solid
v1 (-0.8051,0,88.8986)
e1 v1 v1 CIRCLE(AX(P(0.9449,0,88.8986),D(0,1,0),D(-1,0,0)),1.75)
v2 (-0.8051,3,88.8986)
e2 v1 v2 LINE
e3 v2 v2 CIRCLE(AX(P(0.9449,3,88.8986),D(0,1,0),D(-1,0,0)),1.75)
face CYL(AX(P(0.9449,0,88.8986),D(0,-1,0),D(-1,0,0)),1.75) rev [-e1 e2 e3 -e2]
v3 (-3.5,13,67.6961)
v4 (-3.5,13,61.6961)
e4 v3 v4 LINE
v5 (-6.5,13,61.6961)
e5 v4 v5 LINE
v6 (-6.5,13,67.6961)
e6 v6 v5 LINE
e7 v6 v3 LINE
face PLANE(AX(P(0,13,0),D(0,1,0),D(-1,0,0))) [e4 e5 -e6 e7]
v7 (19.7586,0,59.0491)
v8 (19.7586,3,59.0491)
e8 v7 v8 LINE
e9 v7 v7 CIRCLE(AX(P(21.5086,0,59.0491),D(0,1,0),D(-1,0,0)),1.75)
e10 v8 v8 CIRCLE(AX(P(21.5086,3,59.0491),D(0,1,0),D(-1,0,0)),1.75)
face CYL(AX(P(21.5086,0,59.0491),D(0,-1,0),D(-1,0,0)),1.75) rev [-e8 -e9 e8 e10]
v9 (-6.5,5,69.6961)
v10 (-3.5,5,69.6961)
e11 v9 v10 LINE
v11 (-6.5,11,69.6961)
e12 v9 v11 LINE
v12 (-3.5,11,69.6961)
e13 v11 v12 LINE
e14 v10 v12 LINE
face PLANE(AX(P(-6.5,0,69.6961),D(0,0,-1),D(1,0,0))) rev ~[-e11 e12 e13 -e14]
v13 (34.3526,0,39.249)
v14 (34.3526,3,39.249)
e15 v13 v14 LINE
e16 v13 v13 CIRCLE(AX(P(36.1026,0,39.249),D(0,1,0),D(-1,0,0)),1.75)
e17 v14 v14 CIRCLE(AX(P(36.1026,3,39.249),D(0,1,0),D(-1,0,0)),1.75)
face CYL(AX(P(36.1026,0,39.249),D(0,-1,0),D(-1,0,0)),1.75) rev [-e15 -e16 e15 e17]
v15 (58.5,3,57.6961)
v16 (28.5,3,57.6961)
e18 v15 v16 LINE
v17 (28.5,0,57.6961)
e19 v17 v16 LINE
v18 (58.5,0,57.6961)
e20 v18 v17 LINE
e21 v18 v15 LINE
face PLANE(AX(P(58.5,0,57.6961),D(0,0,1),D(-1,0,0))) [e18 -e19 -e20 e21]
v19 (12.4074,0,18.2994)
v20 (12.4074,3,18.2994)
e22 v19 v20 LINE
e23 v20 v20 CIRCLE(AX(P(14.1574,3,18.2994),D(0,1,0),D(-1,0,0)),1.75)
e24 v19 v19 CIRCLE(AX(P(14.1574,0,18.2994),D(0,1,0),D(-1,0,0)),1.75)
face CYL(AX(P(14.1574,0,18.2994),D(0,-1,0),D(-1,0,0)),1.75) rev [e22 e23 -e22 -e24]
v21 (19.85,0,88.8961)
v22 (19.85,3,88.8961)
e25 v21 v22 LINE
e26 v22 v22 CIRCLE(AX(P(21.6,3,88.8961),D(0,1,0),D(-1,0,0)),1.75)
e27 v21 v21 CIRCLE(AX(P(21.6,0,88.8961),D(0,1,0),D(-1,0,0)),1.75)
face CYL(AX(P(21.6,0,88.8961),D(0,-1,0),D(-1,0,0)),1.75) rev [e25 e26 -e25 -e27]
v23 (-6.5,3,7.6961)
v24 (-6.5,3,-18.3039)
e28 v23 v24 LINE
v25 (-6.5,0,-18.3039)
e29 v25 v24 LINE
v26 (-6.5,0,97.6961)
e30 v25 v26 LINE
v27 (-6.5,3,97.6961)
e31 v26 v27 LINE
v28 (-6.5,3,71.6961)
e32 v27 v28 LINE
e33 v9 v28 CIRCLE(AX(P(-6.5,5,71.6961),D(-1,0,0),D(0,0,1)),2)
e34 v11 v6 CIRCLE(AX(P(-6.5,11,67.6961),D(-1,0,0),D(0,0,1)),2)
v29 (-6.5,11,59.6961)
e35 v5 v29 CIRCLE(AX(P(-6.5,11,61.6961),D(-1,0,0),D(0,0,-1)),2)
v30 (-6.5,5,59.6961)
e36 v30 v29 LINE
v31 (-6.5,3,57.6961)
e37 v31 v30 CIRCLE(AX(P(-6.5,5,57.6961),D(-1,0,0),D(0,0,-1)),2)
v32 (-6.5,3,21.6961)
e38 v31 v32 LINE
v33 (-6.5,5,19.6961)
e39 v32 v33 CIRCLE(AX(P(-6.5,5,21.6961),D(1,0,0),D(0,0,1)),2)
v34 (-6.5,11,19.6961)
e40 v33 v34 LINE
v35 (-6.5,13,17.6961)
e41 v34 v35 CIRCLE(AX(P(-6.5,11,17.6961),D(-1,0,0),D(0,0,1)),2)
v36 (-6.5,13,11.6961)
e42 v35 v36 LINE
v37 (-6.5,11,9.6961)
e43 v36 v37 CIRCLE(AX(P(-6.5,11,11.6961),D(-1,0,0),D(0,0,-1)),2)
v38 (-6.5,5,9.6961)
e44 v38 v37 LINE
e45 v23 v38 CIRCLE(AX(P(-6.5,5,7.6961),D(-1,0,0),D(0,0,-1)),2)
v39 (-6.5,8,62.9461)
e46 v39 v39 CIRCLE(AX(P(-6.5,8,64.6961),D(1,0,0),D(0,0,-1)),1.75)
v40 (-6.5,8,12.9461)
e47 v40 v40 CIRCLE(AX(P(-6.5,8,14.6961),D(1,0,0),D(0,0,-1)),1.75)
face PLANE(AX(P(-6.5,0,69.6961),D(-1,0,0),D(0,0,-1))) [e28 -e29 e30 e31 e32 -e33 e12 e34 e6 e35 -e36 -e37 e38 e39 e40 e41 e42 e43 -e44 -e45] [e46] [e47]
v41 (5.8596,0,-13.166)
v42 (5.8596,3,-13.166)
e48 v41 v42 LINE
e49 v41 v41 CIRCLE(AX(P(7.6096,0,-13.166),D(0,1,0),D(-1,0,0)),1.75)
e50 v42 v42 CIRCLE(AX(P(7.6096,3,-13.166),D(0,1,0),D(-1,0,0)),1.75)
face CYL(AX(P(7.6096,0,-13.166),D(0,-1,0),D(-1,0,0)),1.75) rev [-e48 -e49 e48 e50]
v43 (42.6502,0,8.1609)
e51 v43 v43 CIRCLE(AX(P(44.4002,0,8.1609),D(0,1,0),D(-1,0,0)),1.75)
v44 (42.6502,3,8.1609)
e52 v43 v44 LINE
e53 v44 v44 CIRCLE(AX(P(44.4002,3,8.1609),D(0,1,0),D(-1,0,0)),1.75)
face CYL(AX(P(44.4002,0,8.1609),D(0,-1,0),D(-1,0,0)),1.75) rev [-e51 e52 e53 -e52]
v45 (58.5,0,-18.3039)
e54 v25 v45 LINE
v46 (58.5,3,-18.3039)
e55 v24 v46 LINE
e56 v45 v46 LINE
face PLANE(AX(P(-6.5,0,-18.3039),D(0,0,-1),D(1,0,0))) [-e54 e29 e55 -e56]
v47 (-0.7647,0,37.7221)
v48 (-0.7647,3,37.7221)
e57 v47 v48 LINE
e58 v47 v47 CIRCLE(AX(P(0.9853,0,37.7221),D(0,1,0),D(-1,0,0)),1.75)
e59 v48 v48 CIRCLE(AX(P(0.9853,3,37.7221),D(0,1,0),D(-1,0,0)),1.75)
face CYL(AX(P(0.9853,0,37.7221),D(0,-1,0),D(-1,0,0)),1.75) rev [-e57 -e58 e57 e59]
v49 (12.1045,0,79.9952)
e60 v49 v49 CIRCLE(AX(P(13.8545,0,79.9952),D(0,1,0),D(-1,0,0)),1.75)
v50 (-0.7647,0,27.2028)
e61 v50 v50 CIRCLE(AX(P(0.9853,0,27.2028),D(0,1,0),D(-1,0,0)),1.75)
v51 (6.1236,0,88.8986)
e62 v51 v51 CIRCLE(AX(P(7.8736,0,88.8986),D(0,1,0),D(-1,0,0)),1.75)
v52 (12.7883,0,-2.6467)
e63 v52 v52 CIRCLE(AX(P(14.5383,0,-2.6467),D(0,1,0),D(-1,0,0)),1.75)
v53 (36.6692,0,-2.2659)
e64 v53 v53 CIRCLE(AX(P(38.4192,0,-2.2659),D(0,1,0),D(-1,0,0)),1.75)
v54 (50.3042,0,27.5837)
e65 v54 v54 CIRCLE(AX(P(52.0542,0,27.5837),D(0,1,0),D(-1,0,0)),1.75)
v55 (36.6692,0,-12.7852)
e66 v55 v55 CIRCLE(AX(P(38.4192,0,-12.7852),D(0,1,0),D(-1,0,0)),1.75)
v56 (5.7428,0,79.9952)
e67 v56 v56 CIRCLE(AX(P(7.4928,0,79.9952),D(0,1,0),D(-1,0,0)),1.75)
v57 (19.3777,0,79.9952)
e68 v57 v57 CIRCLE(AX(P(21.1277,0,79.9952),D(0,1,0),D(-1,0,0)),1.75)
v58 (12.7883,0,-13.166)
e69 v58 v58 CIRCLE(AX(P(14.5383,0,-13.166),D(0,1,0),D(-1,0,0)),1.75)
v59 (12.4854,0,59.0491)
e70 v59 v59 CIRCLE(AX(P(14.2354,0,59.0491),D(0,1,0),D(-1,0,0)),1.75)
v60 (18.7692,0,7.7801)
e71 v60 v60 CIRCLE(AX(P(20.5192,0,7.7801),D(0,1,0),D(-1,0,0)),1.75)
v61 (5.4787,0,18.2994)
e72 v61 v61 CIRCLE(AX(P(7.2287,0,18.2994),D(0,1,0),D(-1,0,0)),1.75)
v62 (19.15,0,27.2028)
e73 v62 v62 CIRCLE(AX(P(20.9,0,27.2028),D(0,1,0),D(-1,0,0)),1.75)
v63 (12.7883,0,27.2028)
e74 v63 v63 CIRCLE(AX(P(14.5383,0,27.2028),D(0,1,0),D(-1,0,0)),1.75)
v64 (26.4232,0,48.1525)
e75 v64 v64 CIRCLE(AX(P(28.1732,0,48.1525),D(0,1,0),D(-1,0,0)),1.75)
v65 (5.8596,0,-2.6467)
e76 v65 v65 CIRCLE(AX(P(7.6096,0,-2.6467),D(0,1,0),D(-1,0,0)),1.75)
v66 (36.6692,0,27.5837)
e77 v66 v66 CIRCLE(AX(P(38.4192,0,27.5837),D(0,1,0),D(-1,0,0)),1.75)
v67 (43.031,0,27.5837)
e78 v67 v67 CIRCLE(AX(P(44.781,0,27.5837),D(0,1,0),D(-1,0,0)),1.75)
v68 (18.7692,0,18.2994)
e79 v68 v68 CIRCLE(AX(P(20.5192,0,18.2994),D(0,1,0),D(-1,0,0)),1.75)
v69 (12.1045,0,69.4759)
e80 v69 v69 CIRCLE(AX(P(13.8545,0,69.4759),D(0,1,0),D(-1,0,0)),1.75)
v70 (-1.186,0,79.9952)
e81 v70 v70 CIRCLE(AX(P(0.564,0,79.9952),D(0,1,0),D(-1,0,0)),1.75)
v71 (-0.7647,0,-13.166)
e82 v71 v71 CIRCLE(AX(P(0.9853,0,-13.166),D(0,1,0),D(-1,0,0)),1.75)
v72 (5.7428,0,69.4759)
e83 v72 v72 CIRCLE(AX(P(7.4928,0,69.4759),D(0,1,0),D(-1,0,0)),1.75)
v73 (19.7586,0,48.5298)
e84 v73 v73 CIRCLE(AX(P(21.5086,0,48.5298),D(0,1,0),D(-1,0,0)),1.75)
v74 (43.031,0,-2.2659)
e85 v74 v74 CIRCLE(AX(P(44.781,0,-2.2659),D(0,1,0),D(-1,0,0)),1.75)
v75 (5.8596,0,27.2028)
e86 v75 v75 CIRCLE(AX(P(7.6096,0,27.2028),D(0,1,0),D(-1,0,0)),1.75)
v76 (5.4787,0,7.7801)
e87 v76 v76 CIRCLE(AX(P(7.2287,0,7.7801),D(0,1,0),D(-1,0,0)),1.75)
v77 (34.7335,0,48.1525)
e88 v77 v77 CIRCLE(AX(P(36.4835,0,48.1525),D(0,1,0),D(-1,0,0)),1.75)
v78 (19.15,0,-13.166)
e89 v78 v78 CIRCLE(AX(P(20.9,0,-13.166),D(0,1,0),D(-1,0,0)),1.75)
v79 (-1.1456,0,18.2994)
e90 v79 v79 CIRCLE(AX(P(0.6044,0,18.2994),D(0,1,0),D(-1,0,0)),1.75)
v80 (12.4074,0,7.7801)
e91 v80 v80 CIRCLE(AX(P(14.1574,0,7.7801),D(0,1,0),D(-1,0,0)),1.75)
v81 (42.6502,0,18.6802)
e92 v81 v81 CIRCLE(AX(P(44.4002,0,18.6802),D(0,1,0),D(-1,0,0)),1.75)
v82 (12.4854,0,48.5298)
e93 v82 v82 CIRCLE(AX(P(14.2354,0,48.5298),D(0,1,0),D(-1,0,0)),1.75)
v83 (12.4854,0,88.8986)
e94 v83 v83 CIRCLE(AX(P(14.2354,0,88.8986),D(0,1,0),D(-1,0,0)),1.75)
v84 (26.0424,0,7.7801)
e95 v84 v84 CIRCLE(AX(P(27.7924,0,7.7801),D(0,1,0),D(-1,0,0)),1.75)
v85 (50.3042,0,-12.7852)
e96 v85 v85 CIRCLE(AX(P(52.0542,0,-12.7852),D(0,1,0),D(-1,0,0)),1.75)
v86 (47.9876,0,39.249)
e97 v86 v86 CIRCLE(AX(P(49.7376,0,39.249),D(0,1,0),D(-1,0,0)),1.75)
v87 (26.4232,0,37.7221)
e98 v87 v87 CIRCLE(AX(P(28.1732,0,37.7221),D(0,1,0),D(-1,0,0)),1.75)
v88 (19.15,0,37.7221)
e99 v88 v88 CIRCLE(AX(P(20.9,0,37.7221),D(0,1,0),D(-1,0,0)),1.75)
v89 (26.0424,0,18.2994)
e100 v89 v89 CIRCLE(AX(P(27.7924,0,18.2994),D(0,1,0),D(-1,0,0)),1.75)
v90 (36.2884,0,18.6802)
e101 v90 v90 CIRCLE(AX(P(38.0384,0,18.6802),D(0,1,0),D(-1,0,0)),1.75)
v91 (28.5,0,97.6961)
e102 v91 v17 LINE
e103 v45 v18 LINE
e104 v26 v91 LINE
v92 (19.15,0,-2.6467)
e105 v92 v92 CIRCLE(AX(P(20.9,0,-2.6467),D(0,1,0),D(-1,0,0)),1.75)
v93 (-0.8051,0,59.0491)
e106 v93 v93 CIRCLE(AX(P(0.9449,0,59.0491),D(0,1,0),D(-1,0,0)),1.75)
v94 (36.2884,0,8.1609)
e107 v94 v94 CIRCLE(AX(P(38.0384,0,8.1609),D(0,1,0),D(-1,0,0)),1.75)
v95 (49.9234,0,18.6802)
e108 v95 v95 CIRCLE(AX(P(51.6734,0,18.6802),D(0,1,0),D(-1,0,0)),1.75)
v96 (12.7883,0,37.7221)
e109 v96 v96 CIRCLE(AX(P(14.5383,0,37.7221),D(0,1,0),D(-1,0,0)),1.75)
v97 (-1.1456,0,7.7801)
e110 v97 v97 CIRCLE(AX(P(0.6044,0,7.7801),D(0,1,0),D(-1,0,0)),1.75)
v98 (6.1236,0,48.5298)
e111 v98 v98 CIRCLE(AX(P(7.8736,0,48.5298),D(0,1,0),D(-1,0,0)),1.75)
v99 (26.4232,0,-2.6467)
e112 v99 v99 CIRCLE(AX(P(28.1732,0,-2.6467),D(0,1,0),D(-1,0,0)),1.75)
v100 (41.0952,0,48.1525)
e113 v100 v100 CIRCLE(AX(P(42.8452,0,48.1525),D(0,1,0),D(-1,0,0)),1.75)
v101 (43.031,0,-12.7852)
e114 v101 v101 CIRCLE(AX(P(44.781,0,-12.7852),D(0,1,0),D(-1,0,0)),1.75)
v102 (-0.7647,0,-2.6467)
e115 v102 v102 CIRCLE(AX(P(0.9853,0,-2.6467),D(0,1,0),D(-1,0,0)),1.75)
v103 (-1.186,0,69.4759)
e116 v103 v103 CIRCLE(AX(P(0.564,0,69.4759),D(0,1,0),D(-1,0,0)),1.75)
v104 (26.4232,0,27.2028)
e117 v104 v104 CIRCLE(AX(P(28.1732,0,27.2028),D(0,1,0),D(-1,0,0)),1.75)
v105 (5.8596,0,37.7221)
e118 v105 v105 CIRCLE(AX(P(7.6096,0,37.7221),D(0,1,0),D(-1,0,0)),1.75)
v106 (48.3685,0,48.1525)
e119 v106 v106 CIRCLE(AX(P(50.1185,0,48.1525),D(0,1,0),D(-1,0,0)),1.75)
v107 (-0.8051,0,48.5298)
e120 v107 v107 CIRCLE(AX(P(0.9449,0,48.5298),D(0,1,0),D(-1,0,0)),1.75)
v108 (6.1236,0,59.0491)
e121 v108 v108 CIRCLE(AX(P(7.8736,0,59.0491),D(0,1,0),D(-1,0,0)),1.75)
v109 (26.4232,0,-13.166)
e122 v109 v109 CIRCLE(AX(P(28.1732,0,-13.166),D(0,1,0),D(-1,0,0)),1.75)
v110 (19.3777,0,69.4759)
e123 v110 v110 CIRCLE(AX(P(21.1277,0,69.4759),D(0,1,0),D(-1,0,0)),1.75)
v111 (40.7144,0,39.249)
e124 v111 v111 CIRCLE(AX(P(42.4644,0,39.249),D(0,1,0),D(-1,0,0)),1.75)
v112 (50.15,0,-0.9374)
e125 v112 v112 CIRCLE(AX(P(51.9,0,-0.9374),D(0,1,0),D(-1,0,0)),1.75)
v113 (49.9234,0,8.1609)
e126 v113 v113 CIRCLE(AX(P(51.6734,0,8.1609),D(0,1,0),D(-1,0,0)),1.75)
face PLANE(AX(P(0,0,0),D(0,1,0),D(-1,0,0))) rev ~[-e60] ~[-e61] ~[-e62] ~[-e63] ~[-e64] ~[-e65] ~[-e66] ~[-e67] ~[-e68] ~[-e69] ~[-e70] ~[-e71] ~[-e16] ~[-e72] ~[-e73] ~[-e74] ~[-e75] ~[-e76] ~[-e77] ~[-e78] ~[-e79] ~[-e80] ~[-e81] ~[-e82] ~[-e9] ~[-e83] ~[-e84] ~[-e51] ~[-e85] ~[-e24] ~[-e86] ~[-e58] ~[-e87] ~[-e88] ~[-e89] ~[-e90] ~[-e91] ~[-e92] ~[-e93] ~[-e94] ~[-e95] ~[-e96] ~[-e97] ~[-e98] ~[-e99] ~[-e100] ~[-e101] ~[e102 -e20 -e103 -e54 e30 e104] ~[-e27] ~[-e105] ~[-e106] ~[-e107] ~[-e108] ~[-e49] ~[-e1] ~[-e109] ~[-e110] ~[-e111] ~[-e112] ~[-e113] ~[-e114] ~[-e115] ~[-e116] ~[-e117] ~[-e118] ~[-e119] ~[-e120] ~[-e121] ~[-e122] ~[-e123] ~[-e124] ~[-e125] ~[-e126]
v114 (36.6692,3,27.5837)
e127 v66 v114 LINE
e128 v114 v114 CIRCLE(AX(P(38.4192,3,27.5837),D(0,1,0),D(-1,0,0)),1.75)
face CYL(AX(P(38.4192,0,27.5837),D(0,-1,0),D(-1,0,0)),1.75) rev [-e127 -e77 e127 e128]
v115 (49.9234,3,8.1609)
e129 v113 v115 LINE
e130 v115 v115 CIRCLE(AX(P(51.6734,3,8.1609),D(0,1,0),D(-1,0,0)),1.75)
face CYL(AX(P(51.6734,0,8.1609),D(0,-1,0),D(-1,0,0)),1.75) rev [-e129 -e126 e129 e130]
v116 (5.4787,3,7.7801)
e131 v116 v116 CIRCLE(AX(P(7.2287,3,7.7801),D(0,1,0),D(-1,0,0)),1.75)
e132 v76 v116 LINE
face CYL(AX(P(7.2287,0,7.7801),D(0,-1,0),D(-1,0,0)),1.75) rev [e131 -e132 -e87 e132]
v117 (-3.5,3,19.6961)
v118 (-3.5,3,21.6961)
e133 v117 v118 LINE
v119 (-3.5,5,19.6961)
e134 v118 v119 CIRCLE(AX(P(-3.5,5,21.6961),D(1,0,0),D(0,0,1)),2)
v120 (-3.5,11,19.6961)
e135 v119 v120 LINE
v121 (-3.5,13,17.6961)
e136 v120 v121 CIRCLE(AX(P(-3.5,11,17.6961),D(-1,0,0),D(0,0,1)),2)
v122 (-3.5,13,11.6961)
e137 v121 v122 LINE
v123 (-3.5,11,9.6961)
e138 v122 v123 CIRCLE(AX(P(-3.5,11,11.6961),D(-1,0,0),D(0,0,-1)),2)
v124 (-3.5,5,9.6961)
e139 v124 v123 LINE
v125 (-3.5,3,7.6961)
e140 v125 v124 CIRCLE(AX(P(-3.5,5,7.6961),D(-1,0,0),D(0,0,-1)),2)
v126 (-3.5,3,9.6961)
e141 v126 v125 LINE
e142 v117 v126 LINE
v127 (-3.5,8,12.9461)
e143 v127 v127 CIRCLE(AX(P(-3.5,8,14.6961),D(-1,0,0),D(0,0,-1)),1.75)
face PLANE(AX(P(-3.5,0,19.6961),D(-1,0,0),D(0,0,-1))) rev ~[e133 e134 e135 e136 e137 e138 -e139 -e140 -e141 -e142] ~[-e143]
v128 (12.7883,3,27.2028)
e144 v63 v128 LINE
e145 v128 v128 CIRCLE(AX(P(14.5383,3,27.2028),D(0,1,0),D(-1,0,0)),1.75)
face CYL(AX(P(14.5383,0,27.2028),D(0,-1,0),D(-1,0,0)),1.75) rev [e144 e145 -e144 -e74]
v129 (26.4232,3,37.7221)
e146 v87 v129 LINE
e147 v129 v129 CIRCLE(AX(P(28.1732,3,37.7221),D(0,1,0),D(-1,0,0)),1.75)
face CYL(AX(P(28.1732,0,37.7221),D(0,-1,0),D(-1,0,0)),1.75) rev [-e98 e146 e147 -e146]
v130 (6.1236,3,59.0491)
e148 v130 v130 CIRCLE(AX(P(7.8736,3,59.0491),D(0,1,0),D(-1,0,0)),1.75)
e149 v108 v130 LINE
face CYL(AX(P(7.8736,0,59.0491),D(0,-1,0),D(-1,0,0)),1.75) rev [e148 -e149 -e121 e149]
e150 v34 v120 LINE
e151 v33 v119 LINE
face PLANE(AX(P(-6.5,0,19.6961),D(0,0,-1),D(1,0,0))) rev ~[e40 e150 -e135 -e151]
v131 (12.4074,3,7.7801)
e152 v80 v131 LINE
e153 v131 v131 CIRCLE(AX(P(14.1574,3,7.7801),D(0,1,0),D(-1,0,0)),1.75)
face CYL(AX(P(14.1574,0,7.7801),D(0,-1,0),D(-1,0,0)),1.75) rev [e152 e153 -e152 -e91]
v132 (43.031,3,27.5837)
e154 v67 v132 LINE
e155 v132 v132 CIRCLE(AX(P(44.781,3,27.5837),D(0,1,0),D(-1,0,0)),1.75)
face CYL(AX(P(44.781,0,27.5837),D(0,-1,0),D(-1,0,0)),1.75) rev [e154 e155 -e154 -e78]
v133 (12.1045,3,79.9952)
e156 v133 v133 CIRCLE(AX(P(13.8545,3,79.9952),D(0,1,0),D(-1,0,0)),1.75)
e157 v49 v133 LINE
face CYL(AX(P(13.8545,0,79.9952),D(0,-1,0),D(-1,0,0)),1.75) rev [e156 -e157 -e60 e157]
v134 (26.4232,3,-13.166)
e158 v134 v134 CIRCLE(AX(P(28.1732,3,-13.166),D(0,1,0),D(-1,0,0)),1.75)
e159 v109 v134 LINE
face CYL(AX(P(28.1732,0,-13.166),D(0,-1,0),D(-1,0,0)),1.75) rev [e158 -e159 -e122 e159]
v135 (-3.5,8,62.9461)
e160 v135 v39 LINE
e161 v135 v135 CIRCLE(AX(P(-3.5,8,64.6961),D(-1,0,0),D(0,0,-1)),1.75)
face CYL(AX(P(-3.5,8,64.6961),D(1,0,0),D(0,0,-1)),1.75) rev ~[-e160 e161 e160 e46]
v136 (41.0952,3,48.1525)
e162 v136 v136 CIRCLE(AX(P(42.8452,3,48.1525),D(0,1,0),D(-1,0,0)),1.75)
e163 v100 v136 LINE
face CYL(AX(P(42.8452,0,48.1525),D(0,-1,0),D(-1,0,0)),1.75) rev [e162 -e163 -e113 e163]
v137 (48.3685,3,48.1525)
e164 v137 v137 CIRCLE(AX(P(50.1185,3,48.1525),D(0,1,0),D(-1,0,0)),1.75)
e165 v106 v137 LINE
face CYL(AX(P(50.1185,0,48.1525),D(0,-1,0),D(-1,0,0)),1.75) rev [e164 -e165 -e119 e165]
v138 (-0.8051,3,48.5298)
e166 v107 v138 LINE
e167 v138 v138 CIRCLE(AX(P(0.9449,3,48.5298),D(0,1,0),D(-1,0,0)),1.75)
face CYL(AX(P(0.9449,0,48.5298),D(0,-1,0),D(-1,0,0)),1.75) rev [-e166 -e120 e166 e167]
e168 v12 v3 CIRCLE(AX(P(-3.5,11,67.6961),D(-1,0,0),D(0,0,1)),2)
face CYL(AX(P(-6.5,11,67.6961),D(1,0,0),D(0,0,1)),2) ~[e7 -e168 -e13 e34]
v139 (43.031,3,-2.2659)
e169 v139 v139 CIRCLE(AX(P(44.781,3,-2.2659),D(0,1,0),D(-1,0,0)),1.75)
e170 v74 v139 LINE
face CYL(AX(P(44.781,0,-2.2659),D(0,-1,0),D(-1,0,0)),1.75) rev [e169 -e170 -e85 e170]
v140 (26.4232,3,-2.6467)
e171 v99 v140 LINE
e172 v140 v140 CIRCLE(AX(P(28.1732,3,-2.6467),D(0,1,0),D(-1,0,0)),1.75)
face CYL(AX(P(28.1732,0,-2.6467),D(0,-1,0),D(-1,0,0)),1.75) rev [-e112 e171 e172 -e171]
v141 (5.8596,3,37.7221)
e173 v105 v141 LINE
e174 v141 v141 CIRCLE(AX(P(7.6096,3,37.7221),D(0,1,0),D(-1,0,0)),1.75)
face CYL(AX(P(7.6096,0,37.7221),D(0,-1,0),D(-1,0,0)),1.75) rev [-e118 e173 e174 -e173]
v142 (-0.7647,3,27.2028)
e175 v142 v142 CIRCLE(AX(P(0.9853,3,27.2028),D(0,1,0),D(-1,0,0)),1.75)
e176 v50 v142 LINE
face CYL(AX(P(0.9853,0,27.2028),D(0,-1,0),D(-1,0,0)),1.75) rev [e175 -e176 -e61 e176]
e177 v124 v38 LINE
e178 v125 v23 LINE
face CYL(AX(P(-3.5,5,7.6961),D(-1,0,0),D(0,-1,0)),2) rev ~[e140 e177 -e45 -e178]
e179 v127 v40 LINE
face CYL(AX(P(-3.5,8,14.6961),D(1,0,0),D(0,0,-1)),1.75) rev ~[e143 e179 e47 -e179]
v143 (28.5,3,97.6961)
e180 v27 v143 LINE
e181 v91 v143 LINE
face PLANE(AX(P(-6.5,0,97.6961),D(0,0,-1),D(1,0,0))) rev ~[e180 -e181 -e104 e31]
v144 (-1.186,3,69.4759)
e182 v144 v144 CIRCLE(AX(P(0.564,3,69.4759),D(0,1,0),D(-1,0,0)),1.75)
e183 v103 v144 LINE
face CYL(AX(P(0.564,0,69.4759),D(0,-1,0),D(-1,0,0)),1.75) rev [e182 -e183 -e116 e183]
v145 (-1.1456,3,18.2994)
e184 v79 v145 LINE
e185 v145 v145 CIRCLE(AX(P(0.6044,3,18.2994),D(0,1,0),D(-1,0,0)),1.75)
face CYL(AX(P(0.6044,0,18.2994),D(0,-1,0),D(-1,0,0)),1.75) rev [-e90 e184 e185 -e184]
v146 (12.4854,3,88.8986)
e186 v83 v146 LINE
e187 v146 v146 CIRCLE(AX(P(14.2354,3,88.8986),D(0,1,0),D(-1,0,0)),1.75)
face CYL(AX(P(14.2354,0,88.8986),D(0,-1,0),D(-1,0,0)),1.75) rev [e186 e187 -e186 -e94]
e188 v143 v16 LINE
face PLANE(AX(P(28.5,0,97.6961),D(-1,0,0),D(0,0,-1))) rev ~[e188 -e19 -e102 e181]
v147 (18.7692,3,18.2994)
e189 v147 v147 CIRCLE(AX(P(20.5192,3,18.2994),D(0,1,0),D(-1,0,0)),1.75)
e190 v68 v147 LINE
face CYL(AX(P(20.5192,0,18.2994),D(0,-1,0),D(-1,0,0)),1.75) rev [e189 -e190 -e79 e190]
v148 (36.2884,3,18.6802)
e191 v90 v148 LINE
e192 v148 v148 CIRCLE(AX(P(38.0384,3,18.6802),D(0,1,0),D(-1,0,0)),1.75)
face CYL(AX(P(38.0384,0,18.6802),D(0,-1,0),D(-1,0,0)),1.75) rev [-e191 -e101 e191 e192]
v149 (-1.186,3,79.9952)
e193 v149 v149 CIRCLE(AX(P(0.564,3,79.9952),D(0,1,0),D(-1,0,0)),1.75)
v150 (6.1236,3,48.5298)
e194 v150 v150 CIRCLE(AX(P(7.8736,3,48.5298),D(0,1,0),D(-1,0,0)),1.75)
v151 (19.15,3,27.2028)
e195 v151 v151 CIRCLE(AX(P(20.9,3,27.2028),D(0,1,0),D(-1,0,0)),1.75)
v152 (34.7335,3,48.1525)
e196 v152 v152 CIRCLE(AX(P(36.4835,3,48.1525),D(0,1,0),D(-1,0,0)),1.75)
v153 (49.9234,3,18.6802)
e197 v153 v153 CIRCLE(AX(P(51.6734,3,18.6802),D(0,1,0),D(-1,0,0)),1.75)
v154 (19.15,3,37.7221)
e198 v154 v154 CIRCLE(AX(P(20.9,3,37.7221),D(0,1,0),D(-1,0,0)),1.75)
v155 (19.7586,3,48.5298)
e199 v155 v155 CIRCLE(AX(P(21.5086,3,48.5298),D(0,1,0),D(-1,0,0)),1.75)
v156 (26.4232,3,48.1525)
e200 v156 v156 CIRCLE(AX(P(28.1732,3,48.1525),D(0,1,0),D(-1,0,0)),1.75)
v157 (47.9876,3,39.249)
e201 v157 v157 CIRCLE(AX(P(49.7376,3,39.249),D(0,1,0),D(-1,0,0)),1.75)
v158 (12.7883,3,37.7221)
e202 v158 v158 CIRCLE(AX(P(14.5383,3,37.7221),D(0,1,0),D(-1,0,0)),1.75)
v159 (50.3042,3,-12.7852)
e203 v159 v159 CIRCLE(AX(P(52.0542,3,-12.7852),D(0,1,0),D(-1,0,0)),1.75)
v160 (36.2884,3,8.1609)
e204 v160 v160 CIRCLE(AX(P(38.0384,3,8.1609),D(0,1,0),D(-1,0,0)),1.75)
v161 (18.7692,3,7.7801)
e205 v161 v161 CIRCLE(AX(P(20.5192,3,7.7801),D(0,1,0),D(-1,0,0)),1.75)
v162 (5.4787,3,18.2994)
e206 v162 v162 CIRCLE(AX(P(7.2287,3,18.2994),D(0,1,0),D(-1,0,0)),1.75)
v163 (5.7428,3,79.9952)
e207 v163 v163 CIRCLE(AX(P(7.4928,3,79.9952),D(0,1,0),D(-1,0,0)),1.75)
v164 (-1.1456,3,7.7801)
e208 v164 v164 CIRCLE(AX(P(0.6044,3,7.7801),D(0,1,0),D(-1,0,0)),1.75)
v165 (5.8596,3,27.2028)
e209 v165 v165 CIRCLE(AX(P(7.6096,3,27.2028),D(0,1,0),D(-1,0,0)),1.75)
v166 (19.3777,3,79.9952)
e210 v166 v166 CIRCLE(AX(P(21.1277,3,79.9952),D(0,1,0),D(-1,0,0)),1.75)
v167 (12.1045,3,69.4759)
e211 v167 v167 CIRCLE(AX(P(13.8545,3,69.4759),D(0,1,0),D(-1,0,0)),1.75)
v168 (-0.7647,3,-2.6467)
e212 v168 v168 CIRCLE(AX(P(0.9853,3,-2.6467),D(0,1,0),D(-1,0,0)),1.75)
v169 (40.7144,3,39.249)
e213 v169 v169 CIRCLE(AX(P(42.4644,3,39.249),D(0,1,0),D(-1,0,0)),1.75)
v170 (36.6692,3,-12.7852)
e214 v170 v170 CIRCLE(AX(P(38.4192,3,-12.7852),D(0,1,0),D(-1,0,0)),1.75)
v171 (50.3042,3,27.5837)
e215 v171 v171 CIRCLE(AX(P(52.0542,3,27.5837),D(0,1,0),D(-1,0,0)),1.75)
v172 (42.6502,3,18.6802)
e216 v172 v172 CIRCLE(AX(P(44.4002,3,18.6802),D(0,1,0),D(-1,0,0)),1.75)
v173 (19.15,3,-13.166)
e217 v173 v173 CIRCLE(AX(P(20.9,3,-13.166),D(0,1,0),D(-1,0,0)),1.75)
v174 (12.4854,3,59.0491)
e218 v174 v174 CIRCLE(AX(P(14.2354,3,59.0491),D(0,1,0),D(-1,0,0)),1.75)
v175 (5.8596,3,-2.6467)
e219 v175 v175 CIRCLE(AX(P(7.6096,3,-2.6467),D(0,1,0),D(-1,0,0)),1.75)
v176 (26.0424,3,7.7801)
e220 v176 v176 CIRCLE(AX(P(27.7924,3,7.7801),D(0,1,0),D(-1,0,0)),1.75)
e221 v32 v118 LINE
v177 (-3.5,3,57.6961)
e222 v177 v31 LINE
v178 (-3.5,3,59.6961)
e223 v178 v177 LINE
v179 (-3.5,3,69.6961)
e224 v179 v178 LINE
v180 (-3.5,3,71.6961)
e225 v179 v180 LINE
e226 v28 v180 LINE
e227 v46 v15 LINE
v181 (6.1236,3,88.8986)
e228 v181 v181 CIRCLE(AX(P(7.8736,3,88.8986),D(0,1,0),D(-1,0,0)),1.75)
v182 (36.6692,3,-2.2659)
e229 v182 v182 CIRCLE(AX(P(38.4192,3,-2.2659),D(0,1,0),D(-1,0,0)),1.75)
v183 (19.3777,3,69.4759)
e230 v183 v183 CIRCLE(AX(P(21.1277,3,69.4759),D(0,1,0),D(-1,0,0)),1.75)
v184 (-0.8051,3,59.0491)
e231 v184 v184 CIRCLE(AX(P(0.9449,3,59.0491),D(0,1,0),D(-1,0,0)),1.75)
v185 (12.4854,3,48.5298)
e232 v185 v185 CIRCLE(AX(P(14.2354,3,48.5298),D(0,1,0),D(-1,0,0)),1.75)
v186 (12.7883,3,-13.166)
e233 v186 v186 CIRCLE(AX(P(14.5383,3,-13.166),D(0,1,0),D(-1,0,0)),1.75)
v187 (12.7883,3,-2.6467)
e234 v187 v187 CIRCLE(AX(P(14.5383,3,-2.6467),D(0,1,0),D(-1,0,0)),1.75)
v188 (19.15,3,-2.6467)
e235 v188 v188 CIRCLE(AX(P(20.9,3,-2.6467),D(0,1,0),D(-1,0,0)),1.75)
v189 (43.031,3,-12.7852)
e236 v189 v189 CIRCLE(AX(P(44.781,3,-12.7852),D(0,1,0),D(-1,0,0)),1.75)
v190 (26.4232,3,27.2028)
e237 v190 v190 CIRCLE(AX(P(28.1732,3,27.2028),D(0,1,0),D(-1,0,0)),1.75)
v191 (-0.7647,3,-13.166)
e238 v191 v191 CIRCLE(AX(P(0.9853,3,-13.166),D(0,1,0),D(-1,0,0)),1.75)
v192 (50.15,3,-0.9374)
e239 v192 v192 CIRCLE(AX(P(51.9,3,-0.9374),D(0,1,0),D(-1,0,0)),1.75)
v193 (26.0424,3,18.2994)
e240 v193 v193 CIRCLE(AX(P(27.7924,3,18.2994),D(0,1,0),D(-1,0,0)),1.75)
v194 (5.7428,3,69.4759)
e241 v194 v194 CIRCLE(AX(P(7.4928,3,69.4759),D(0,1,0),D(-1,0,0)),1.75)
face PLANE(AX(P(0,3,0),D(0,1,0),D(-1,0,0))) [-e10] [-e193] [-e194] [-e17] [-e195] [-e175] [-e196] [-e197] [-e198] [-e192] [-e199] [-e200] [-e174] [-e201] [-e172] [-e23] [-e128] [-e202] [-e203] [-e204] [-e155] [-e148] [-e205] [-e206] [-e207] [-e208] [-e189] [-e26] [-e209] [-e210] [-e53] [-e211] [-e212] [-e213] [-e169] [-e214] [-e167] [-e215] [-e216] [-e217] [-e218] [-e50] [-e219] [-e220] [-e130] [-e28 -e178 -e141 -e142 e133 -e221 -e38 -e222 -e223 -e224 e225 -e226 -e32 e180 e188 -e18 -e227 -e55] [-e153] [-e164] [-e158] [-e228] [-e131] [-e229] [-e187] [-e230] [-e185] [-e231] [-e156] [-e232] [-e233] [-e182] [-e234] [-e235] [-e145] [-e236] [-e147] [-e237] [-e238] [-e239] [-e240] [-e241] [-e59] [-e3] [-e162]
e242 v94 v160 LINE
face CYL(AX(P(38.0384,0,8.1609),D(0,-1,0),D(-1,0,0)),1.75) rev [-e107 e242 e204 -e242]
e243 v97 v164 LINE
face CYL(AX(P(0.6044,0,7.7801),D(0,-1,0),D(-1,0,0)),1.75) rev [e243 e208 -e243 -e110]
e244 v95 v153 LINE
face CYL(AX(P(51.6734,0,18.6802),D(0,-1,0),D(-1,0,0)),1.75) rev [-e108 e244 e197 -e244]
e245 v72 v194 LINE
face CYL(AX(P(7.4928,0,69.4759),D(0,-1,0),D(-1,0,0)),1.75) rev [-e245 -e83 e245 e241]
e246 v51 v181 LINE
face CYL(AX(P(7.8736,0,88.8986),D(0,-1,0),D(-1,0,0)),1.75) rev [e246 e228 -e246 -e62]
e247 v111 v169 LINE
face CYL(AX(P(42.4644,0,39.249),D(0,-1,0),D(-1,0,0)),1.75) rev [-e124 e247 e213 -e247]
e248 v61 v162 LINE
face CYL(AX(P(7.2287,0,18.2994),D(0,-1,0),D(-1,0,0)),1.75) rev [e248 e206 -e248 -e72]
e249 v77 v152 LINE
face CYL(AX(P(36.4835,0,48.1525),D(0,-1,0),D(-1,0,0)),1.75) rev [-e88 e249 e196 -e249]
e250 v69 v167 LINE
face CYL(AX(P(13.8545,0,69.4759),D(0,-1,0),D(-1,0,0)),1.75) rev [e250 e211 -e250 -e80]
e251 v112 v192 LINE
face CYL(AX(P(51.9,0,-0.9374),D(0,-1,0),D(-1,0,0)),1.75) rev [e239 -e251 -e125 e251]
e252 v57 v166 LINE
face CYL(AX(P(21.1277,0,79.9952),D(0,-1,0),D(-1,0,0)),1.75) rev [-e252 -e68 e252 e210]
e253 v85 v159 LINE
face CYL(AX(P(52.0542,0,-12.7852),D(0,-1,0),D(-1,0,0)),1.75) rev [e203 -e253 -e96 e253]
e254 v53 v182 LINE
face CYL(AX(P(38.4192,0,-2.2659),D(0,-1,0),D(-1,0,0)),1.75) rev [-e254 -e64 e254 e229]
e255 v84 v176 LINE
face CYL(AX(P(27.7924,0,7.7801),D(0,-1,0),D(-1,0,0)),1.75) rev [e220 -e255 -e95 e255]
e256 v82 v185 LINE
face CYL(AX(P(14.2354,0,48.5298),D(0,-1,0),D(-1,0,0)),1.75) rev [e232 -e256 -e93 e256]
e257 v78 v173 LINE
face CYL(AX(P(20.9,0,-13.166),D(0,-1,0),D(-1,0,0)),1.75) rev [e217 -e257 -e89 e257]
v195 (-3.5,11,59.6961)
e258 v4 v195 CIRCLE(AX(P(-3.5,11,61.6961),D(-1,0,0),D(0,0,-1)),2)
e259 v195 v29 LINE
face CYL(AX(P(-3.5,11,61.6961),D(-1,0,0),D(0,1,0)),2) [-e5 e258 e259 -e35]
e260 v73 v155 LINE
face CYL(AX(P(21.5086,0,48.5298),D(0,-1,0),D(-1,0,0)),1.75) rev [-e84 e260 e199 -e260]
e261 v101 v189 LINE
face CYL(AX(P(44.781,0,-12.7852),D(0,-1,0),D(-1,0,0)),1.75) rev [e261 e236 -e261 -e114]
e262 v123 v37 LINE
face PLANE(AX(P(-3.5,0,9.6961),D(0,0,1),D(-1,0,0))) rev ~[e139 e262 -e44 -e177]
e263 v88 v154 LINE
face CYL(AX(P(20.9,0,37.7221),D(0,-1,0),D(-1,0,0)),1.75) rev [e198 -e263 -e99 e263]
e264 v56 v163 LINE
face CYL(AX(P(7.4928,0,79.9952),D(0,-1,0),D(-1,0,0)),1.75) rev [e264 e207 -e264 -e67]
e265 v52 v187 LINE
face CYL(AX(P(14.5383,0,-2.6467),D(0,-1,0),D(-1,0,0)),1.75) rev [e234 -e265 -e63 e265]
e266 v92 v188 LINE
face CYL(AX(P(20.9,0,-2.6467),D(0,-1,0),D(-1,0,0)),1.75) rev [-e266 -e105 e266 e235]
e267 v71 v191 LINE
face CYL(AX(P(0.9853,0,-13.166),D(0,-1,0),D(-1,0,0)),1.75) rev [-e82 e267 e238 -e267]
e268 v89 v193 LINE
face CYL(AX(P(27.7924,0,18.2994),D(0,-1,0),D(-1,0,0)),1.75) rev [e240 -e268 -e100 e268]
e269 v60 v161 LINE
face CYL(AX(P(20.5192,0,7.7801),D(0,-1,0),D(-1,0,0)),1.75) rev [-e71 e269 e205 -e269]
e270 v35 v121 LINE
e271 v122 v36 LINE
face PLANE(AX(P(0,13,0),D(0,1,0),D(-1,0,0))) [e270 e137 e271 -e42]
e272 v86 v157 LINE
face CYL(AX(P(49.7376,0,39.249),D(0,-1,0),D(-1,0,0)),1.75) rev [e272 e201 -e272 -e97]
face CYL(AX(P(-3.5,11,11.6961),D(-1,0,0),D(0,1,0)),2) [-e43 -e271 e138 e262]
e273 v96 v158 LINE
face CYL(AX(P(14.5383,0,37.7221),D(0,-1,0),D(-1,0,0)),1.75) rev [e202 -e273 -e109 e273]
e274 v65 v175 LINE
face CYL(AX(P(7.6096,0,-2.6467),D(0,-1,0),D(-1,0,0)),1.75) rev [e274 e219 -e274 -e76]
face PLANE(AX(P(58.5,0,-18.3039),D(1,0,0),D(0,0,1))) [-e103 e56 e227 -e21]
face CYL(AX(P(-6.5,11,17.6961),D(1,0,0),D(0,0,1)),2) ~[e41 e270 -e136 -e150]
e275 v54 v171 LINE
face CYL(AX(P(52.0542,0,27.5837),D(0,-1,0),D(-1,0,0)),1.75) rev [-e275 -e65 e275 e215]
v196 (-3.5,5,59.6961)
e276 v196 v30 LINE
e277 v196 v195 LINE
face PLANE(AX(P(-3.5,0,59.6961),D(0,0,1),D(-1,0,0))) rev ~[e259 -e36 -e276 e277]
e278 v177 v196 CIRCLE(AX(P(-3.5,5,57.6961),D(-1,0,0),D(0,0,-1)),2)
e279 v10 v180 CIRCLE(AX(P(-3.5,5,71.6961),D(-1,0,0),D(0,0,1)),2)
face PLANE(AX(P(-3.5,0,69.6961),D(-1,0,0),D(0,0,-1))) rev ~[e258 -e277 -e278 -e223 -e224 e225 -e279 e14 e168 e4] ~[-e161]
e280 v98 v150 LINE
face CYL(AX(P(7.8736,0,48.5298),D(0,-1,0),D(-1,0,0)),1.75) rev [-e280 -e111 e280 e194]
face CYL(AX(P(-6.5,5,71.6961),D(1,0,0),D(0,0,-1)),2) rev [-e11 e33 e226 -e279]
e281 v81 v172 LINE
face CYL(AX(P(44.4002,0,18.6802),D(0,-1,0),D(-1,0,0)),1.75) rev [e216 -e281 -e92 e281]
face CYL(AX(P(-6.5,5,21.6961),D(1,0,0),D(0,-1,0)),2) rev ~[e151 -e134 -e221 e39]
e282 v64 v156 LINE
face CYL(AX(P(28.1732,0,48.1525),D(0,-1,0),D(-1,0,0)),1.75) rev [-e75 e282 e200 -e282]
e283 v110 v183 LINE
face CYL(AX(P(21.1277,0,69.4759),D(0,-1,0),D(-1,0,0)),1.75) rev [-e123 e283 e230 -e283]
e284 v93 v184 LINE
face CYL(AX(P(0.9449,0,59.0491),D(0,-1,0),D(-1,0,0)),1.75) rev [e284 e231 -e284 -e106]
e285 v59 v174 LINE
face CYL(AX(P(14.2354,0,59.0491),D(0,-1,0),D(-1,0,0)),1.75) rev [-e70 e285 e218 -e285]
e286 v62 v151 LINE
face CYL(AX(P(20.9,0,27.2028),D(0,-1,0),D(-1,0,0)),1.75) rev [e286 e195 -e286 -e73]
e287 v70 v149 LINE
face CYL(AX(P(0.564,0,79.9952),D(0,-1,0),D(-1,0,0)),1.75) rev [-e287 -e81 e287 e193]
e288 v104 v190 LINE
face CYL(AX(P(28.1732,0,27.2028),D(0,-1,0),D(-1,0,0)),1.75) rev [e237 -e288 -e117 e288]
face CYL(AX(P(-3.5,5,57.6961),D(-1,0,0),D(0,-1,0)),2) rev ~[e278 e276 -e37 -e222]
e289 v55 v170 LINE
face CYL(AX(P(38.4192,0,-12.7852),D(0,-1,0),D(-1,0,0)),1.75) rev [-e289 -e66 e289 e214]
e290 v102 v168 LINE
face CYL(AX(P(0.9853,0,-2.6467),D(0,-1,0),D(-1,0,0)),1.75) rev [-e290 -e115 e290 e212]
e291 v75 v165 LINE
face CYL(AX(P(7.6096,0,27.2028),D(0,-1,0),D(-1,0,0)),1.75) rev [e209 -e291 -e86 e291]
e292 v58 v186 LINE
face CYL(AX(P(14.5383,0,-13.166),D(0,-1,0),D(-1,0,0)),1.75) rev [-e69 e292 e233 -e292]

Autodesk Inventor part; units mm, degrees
ref_plane "YZ Plane" through (0, 0, 0) normal (1, 0, 0) x (0, 1, 0)
ref_plane "XZ Plane" through (0, 0, 0) normal (0, 1, 0) x (-1, 0, 0)
ref_plane "XY Plane" through (0, 0, 0) normal (0, 0, 1) x (1, 0, 0)
sketch "Esquisse1" plane through (0, 0, 0) normal (0, 1, 0) x (-1, 0, 0)
  line L0 (6.5, 97.6961) -> (-28.5, 97.6961)
  line L1 (6.5, -18.3039) -> (-58.5, -18.3039)
  line L2 (6.5, 97.6961) -> (6.5, -18.3039)
  line L3 (-28.5, 97.6961) -> (-28.5, 57.6961)
  line L4 (-58.5, -18.3039) -> (-58.5, 57.6961)
  line L5 (-58.5, 57.6961) -> (-28.5, 57.6961)
  circle A0 centre (-14.5383, -13.166) radius 1.75
  circle A1 centre (-20.9, -13.166) radius 1.75
  circle A2 centre (-28.1732, -13.166) radius 1.75
  circle A3 centre (-28.1732, -2.6467) radius 1.75
  circle A4 centre (-0.9853, -2.6467) radius 1.75
  circle A5 centre (-7.6096, -13.166) radius 1.75
  circle A6 centre (-7.6096, -2.6467) radius 1.75
  circle A7 centre (-20.9, -2.6467) radius 1.75
  circle A8 centre (-14.5383, -2.6467) radius 1.75
  circle A9 centre (-0.9853, -13.166) radius 1.75
  circle A10 centre (-14.1574, 7.7801) radius 1.75
  circle A11 centre (-20.5192, 7.7801) radius 1.75
  circle A12 centre (-27.7924, 7.7801) radius 1.75
  circle A13 centre (-27.7924, 18.2994) radius 1.75
  circle A14 centre (-0.6044, 18.2994) radius 1.75
  circle A15 centre (-7.2287, 7.7801) radius 1.75
  circle A16 centre (-7.2287, 18.2994) radius 1.75
  circle A17 centre (-20.5192, 18.2994) radius 1.75
  circle A18 centre (-14.1574, 18.2994) radius 1.75
  circle A19 centre (-0.6044, 7.7801) radius 1.75
  circle A20 centre (-14.5383, 27.2028) radius 1.75
  circle A21 centre (-20.9, 27.2028) radius 1.75
  circle A22 centre (-28.1732, 27.2028) radius 1.75
  circle A23 centre (-28.1732, 37.7221) radius 1.75
  circle A24 centre (-0.9853, 37.7221) radius 1.75
  circle A25 centre (-7.6096, 27.2028) radius 1.75
  circle A26 centre (-7.6096, 37.7221) radius 1.75
  circle A27 centre (-20.9, 37.7221) radius 1.75
  circle A28 centre (-14.5383, 37.7221) radius 1.75
  circle A29 centre (-0.9853, 27.2028) radius 1.75
  circle A30 centre (-14.2354, 48.5298) radius 1.75
  circle A31 centre (-7.8736, 48.5298) radius 1.75
  circle A32 centre (-0.9449, 48.5298) radius 1.75
  circle A33 centre (-21.5086, 59.0491) radius 1.75
  circle A34 centre (-14.2354, 59.0491) radius 1.75
  circle A35 centre (-7.8736, 59.0491) radius 1.75
  circle A36 centre (-0.9449, 59.0491) radius 1.75
  circle A37 centre (-21.5086, 48.5298) radius 1.75
  circle A38 centre (-13.8545, 69.4759) radius 1.75
  circle A39 centre (-7.4928, 69.4759) radius 1.75
  circle A40 centre (-0.564, 69.4759) radius 1.75
  circle A41 centre (-21.1277, 79.9952) radius 1.75
  circle A42 centre (-13.8545, 79.9952) radius 1.75
  circle A43 centre (-7.4928, 79.9952) radius 1.75
  circle A44 centre (-0.564, 79.9952) radius 1.75
  circle A45 centre (-21.1277, 69.4759) radius 1.75
  circle A46 centre (-14.2354, 88.8986) radius 1.75
  circle A47 centre (-7.8736, 88.8986) radius 1.75
  circle A48 centre (-0.9449, 88.8986) radius 1.75
  circle A49 centre (-21.6, 88.8961) radius 1.75
  circle A50 centre (-44.781, -12.7852) radius 1.75
  circle A51 centre (-38.4192, -12.7852) radius 1.75
  circle A52 centre (-51.9, -0.9374) radius 1.75
  circle A53 centre (-44.781, -2.2659) radius 1.75
  circle A54 centre (-38.4192, -2.2659) radius 1.75
  circle A55 centre (-52.0542, -12.7852) radius 1.75
  circle A56 centre (-44.4002, 8.1609) radius 1.75
  circle A57 centre (-38.0384, 8.1609) radius 1.75
  circle A58 centre (-51.6734, 18.6802) radius 1.75
  circle A59 centre (-44.4002, 18.6802) radius 1.75
  circle A60 centre (-38.0384, 18.6802) radius 1.75
  circle A61 centre (-51.6734, 8.1609) radius 1.75
  circle A62 centre (-44.781, 27.5837) radius 1.75
  circle A63 centre (-38.4192, 27.5837) radius 1.75
  circle A64 centre (-52.0542, 27.5837) radius 1.75
  circle A65 centre (-36.1026, 39.249) radius 1.75
  circle A66 centre (-49.7376, 39.249) radius 1.75
  circle A67 centre (-42.8452, 48.1525) radius 1.75
  circle A68 centre (-50.1185, 48.1525) radius 1.75
  circle A69 centre (-42.4644, 39.249) radius 1.75
  circle A70 centre (-36.4835, 48.1525) radius 1.75
  circle A71 centre (-28.1732, 48.1525) radius 1.75
  line L6 (3.5, 9.6961) -> (6.5, 9.6961)
  line L7 (6.5, 9.6961) -> (6.5, 19.6961)
  line L8 (6.5, 19.6961) -> (3.5, 19.6961)
  line L9 (3.5, 19.6961) -> (3.5, 9.6961)
  line L10 (3.5, 9.6961) -> (6.5, 19.6961) construction
  line L11 (6.5, 9.6961) -> (3.5, 19.6961) construction
  line L12 (3.5, 59.6961) -> (6.5, 59.6961)
  line L13 (6.5, 59.6961) -> (6.5, 69.6961)
  line L14 (6.5, 69.6961) -> (3.5, 69.6961)
  line L15 (3.5, 69.6961) -> (3.5, 59.6961)
  line L16 (3.5, 59.6961) -> (6.5, 69.6961) construction
  line L17 (6.5, 59.6961) -> (3.5, 69.6961) construction
  point P0 (0, 0)
  point P1 (-47.865, 53.9077)
  point P2 (5, 14.6961)
  point P3 (5, 64.6961)
  dimension "d0" = 35
  dimension "d1" = 65
  dimension "d2" = 116
  dimension "d3" = 40
  dimension "d4" = 76
  dimension "d10" = 17.3665
  dimension "d11" = 6.6
  dimension "d30" = 1.5
  dimension "d31" = 1.5
  dimension "d32" = 33
  dimension "d33" = 33
  dimension "d34" = 3
  dimension "d35" = 3
  dimension "d36" = 10
  dimension "d37" = 10
  dimension "d51" = 6.9
  dimension "d52" = 8.8
extrude "Extrusion6" add sketch "Esquisse1" along normal blind 3 contours L2 L14 L15 L12 L8 L9 L6 L1 L4 L5 L3 L0
extrude "Extrusion7" add sketch "Esquisse1" along normal blind 13 contours L2 L6 L9 L8
extrude "Extrusion8" add sketch "Esquisse1" along normal blind 13 contours L2 L12 L15 L14
sketch "Esquisse6" plane through (-3.5, 3, 9.6961) normal (1, 0, 0) x (0, 0, -1)
  line L0 (0, 0) -> (0, 10) projected
  line L1 (-10, 0) -> (-10, 10) projected
  line L2 (0, 0) -> (-10, 10)
  line L3 (-10, 10) -> (0, 10)
  line L4 (0, 10) -> (-10, 0)
  circle A0 centre (-5, 5) radius 1.75
  line L5 (-50, 0) -> (-50, 10) projected
  line L6 (-50, 0) -> (-60, 10)
  line L7 (-60, 10) -> (-50, 10)
  line L8 (-60, 0) -> (-60, 10) projected
  line L9 (-50, 10) -> (-60, 0)
  circle A1 centre (-55, 5) radius 1.75
  line L10 (-48, 0) -> (28, 0) projected
  line L11 (-88, 0) -> (-48, 0) projected
  point P0 (9.6961, -3)
  point P1 (-5, 5)
  point P2 (-55, 5)
  dimension "d44" = 3.5
  dimension "d45" = 3.5
  dimension "d46" = 5
  dimension "d47" = 5
extrude "Extrusion9" cut sketch "Esquisse6" against normal blind 3 contours A0 L4 L2 | L2 L4 A0 | L4 L2 A0 | L4 A0 L2 | A1 L9 L6 | L6 L9 A1 | L9 L6 A1 | L9 A1 L6
fillet "Congé2" radius 2 8 edges at (-5, 13, 69.6961) (-5, 3, 69.6961) (-5, 13, 59.6961) (-5, 3, 19.6961) (-5, 13, 19.6961) (-5, 13, 9.6961) (-5, 3, 9.6961) (-5, 3, 59.6961)
properties part number "mur_étage_gauche"
